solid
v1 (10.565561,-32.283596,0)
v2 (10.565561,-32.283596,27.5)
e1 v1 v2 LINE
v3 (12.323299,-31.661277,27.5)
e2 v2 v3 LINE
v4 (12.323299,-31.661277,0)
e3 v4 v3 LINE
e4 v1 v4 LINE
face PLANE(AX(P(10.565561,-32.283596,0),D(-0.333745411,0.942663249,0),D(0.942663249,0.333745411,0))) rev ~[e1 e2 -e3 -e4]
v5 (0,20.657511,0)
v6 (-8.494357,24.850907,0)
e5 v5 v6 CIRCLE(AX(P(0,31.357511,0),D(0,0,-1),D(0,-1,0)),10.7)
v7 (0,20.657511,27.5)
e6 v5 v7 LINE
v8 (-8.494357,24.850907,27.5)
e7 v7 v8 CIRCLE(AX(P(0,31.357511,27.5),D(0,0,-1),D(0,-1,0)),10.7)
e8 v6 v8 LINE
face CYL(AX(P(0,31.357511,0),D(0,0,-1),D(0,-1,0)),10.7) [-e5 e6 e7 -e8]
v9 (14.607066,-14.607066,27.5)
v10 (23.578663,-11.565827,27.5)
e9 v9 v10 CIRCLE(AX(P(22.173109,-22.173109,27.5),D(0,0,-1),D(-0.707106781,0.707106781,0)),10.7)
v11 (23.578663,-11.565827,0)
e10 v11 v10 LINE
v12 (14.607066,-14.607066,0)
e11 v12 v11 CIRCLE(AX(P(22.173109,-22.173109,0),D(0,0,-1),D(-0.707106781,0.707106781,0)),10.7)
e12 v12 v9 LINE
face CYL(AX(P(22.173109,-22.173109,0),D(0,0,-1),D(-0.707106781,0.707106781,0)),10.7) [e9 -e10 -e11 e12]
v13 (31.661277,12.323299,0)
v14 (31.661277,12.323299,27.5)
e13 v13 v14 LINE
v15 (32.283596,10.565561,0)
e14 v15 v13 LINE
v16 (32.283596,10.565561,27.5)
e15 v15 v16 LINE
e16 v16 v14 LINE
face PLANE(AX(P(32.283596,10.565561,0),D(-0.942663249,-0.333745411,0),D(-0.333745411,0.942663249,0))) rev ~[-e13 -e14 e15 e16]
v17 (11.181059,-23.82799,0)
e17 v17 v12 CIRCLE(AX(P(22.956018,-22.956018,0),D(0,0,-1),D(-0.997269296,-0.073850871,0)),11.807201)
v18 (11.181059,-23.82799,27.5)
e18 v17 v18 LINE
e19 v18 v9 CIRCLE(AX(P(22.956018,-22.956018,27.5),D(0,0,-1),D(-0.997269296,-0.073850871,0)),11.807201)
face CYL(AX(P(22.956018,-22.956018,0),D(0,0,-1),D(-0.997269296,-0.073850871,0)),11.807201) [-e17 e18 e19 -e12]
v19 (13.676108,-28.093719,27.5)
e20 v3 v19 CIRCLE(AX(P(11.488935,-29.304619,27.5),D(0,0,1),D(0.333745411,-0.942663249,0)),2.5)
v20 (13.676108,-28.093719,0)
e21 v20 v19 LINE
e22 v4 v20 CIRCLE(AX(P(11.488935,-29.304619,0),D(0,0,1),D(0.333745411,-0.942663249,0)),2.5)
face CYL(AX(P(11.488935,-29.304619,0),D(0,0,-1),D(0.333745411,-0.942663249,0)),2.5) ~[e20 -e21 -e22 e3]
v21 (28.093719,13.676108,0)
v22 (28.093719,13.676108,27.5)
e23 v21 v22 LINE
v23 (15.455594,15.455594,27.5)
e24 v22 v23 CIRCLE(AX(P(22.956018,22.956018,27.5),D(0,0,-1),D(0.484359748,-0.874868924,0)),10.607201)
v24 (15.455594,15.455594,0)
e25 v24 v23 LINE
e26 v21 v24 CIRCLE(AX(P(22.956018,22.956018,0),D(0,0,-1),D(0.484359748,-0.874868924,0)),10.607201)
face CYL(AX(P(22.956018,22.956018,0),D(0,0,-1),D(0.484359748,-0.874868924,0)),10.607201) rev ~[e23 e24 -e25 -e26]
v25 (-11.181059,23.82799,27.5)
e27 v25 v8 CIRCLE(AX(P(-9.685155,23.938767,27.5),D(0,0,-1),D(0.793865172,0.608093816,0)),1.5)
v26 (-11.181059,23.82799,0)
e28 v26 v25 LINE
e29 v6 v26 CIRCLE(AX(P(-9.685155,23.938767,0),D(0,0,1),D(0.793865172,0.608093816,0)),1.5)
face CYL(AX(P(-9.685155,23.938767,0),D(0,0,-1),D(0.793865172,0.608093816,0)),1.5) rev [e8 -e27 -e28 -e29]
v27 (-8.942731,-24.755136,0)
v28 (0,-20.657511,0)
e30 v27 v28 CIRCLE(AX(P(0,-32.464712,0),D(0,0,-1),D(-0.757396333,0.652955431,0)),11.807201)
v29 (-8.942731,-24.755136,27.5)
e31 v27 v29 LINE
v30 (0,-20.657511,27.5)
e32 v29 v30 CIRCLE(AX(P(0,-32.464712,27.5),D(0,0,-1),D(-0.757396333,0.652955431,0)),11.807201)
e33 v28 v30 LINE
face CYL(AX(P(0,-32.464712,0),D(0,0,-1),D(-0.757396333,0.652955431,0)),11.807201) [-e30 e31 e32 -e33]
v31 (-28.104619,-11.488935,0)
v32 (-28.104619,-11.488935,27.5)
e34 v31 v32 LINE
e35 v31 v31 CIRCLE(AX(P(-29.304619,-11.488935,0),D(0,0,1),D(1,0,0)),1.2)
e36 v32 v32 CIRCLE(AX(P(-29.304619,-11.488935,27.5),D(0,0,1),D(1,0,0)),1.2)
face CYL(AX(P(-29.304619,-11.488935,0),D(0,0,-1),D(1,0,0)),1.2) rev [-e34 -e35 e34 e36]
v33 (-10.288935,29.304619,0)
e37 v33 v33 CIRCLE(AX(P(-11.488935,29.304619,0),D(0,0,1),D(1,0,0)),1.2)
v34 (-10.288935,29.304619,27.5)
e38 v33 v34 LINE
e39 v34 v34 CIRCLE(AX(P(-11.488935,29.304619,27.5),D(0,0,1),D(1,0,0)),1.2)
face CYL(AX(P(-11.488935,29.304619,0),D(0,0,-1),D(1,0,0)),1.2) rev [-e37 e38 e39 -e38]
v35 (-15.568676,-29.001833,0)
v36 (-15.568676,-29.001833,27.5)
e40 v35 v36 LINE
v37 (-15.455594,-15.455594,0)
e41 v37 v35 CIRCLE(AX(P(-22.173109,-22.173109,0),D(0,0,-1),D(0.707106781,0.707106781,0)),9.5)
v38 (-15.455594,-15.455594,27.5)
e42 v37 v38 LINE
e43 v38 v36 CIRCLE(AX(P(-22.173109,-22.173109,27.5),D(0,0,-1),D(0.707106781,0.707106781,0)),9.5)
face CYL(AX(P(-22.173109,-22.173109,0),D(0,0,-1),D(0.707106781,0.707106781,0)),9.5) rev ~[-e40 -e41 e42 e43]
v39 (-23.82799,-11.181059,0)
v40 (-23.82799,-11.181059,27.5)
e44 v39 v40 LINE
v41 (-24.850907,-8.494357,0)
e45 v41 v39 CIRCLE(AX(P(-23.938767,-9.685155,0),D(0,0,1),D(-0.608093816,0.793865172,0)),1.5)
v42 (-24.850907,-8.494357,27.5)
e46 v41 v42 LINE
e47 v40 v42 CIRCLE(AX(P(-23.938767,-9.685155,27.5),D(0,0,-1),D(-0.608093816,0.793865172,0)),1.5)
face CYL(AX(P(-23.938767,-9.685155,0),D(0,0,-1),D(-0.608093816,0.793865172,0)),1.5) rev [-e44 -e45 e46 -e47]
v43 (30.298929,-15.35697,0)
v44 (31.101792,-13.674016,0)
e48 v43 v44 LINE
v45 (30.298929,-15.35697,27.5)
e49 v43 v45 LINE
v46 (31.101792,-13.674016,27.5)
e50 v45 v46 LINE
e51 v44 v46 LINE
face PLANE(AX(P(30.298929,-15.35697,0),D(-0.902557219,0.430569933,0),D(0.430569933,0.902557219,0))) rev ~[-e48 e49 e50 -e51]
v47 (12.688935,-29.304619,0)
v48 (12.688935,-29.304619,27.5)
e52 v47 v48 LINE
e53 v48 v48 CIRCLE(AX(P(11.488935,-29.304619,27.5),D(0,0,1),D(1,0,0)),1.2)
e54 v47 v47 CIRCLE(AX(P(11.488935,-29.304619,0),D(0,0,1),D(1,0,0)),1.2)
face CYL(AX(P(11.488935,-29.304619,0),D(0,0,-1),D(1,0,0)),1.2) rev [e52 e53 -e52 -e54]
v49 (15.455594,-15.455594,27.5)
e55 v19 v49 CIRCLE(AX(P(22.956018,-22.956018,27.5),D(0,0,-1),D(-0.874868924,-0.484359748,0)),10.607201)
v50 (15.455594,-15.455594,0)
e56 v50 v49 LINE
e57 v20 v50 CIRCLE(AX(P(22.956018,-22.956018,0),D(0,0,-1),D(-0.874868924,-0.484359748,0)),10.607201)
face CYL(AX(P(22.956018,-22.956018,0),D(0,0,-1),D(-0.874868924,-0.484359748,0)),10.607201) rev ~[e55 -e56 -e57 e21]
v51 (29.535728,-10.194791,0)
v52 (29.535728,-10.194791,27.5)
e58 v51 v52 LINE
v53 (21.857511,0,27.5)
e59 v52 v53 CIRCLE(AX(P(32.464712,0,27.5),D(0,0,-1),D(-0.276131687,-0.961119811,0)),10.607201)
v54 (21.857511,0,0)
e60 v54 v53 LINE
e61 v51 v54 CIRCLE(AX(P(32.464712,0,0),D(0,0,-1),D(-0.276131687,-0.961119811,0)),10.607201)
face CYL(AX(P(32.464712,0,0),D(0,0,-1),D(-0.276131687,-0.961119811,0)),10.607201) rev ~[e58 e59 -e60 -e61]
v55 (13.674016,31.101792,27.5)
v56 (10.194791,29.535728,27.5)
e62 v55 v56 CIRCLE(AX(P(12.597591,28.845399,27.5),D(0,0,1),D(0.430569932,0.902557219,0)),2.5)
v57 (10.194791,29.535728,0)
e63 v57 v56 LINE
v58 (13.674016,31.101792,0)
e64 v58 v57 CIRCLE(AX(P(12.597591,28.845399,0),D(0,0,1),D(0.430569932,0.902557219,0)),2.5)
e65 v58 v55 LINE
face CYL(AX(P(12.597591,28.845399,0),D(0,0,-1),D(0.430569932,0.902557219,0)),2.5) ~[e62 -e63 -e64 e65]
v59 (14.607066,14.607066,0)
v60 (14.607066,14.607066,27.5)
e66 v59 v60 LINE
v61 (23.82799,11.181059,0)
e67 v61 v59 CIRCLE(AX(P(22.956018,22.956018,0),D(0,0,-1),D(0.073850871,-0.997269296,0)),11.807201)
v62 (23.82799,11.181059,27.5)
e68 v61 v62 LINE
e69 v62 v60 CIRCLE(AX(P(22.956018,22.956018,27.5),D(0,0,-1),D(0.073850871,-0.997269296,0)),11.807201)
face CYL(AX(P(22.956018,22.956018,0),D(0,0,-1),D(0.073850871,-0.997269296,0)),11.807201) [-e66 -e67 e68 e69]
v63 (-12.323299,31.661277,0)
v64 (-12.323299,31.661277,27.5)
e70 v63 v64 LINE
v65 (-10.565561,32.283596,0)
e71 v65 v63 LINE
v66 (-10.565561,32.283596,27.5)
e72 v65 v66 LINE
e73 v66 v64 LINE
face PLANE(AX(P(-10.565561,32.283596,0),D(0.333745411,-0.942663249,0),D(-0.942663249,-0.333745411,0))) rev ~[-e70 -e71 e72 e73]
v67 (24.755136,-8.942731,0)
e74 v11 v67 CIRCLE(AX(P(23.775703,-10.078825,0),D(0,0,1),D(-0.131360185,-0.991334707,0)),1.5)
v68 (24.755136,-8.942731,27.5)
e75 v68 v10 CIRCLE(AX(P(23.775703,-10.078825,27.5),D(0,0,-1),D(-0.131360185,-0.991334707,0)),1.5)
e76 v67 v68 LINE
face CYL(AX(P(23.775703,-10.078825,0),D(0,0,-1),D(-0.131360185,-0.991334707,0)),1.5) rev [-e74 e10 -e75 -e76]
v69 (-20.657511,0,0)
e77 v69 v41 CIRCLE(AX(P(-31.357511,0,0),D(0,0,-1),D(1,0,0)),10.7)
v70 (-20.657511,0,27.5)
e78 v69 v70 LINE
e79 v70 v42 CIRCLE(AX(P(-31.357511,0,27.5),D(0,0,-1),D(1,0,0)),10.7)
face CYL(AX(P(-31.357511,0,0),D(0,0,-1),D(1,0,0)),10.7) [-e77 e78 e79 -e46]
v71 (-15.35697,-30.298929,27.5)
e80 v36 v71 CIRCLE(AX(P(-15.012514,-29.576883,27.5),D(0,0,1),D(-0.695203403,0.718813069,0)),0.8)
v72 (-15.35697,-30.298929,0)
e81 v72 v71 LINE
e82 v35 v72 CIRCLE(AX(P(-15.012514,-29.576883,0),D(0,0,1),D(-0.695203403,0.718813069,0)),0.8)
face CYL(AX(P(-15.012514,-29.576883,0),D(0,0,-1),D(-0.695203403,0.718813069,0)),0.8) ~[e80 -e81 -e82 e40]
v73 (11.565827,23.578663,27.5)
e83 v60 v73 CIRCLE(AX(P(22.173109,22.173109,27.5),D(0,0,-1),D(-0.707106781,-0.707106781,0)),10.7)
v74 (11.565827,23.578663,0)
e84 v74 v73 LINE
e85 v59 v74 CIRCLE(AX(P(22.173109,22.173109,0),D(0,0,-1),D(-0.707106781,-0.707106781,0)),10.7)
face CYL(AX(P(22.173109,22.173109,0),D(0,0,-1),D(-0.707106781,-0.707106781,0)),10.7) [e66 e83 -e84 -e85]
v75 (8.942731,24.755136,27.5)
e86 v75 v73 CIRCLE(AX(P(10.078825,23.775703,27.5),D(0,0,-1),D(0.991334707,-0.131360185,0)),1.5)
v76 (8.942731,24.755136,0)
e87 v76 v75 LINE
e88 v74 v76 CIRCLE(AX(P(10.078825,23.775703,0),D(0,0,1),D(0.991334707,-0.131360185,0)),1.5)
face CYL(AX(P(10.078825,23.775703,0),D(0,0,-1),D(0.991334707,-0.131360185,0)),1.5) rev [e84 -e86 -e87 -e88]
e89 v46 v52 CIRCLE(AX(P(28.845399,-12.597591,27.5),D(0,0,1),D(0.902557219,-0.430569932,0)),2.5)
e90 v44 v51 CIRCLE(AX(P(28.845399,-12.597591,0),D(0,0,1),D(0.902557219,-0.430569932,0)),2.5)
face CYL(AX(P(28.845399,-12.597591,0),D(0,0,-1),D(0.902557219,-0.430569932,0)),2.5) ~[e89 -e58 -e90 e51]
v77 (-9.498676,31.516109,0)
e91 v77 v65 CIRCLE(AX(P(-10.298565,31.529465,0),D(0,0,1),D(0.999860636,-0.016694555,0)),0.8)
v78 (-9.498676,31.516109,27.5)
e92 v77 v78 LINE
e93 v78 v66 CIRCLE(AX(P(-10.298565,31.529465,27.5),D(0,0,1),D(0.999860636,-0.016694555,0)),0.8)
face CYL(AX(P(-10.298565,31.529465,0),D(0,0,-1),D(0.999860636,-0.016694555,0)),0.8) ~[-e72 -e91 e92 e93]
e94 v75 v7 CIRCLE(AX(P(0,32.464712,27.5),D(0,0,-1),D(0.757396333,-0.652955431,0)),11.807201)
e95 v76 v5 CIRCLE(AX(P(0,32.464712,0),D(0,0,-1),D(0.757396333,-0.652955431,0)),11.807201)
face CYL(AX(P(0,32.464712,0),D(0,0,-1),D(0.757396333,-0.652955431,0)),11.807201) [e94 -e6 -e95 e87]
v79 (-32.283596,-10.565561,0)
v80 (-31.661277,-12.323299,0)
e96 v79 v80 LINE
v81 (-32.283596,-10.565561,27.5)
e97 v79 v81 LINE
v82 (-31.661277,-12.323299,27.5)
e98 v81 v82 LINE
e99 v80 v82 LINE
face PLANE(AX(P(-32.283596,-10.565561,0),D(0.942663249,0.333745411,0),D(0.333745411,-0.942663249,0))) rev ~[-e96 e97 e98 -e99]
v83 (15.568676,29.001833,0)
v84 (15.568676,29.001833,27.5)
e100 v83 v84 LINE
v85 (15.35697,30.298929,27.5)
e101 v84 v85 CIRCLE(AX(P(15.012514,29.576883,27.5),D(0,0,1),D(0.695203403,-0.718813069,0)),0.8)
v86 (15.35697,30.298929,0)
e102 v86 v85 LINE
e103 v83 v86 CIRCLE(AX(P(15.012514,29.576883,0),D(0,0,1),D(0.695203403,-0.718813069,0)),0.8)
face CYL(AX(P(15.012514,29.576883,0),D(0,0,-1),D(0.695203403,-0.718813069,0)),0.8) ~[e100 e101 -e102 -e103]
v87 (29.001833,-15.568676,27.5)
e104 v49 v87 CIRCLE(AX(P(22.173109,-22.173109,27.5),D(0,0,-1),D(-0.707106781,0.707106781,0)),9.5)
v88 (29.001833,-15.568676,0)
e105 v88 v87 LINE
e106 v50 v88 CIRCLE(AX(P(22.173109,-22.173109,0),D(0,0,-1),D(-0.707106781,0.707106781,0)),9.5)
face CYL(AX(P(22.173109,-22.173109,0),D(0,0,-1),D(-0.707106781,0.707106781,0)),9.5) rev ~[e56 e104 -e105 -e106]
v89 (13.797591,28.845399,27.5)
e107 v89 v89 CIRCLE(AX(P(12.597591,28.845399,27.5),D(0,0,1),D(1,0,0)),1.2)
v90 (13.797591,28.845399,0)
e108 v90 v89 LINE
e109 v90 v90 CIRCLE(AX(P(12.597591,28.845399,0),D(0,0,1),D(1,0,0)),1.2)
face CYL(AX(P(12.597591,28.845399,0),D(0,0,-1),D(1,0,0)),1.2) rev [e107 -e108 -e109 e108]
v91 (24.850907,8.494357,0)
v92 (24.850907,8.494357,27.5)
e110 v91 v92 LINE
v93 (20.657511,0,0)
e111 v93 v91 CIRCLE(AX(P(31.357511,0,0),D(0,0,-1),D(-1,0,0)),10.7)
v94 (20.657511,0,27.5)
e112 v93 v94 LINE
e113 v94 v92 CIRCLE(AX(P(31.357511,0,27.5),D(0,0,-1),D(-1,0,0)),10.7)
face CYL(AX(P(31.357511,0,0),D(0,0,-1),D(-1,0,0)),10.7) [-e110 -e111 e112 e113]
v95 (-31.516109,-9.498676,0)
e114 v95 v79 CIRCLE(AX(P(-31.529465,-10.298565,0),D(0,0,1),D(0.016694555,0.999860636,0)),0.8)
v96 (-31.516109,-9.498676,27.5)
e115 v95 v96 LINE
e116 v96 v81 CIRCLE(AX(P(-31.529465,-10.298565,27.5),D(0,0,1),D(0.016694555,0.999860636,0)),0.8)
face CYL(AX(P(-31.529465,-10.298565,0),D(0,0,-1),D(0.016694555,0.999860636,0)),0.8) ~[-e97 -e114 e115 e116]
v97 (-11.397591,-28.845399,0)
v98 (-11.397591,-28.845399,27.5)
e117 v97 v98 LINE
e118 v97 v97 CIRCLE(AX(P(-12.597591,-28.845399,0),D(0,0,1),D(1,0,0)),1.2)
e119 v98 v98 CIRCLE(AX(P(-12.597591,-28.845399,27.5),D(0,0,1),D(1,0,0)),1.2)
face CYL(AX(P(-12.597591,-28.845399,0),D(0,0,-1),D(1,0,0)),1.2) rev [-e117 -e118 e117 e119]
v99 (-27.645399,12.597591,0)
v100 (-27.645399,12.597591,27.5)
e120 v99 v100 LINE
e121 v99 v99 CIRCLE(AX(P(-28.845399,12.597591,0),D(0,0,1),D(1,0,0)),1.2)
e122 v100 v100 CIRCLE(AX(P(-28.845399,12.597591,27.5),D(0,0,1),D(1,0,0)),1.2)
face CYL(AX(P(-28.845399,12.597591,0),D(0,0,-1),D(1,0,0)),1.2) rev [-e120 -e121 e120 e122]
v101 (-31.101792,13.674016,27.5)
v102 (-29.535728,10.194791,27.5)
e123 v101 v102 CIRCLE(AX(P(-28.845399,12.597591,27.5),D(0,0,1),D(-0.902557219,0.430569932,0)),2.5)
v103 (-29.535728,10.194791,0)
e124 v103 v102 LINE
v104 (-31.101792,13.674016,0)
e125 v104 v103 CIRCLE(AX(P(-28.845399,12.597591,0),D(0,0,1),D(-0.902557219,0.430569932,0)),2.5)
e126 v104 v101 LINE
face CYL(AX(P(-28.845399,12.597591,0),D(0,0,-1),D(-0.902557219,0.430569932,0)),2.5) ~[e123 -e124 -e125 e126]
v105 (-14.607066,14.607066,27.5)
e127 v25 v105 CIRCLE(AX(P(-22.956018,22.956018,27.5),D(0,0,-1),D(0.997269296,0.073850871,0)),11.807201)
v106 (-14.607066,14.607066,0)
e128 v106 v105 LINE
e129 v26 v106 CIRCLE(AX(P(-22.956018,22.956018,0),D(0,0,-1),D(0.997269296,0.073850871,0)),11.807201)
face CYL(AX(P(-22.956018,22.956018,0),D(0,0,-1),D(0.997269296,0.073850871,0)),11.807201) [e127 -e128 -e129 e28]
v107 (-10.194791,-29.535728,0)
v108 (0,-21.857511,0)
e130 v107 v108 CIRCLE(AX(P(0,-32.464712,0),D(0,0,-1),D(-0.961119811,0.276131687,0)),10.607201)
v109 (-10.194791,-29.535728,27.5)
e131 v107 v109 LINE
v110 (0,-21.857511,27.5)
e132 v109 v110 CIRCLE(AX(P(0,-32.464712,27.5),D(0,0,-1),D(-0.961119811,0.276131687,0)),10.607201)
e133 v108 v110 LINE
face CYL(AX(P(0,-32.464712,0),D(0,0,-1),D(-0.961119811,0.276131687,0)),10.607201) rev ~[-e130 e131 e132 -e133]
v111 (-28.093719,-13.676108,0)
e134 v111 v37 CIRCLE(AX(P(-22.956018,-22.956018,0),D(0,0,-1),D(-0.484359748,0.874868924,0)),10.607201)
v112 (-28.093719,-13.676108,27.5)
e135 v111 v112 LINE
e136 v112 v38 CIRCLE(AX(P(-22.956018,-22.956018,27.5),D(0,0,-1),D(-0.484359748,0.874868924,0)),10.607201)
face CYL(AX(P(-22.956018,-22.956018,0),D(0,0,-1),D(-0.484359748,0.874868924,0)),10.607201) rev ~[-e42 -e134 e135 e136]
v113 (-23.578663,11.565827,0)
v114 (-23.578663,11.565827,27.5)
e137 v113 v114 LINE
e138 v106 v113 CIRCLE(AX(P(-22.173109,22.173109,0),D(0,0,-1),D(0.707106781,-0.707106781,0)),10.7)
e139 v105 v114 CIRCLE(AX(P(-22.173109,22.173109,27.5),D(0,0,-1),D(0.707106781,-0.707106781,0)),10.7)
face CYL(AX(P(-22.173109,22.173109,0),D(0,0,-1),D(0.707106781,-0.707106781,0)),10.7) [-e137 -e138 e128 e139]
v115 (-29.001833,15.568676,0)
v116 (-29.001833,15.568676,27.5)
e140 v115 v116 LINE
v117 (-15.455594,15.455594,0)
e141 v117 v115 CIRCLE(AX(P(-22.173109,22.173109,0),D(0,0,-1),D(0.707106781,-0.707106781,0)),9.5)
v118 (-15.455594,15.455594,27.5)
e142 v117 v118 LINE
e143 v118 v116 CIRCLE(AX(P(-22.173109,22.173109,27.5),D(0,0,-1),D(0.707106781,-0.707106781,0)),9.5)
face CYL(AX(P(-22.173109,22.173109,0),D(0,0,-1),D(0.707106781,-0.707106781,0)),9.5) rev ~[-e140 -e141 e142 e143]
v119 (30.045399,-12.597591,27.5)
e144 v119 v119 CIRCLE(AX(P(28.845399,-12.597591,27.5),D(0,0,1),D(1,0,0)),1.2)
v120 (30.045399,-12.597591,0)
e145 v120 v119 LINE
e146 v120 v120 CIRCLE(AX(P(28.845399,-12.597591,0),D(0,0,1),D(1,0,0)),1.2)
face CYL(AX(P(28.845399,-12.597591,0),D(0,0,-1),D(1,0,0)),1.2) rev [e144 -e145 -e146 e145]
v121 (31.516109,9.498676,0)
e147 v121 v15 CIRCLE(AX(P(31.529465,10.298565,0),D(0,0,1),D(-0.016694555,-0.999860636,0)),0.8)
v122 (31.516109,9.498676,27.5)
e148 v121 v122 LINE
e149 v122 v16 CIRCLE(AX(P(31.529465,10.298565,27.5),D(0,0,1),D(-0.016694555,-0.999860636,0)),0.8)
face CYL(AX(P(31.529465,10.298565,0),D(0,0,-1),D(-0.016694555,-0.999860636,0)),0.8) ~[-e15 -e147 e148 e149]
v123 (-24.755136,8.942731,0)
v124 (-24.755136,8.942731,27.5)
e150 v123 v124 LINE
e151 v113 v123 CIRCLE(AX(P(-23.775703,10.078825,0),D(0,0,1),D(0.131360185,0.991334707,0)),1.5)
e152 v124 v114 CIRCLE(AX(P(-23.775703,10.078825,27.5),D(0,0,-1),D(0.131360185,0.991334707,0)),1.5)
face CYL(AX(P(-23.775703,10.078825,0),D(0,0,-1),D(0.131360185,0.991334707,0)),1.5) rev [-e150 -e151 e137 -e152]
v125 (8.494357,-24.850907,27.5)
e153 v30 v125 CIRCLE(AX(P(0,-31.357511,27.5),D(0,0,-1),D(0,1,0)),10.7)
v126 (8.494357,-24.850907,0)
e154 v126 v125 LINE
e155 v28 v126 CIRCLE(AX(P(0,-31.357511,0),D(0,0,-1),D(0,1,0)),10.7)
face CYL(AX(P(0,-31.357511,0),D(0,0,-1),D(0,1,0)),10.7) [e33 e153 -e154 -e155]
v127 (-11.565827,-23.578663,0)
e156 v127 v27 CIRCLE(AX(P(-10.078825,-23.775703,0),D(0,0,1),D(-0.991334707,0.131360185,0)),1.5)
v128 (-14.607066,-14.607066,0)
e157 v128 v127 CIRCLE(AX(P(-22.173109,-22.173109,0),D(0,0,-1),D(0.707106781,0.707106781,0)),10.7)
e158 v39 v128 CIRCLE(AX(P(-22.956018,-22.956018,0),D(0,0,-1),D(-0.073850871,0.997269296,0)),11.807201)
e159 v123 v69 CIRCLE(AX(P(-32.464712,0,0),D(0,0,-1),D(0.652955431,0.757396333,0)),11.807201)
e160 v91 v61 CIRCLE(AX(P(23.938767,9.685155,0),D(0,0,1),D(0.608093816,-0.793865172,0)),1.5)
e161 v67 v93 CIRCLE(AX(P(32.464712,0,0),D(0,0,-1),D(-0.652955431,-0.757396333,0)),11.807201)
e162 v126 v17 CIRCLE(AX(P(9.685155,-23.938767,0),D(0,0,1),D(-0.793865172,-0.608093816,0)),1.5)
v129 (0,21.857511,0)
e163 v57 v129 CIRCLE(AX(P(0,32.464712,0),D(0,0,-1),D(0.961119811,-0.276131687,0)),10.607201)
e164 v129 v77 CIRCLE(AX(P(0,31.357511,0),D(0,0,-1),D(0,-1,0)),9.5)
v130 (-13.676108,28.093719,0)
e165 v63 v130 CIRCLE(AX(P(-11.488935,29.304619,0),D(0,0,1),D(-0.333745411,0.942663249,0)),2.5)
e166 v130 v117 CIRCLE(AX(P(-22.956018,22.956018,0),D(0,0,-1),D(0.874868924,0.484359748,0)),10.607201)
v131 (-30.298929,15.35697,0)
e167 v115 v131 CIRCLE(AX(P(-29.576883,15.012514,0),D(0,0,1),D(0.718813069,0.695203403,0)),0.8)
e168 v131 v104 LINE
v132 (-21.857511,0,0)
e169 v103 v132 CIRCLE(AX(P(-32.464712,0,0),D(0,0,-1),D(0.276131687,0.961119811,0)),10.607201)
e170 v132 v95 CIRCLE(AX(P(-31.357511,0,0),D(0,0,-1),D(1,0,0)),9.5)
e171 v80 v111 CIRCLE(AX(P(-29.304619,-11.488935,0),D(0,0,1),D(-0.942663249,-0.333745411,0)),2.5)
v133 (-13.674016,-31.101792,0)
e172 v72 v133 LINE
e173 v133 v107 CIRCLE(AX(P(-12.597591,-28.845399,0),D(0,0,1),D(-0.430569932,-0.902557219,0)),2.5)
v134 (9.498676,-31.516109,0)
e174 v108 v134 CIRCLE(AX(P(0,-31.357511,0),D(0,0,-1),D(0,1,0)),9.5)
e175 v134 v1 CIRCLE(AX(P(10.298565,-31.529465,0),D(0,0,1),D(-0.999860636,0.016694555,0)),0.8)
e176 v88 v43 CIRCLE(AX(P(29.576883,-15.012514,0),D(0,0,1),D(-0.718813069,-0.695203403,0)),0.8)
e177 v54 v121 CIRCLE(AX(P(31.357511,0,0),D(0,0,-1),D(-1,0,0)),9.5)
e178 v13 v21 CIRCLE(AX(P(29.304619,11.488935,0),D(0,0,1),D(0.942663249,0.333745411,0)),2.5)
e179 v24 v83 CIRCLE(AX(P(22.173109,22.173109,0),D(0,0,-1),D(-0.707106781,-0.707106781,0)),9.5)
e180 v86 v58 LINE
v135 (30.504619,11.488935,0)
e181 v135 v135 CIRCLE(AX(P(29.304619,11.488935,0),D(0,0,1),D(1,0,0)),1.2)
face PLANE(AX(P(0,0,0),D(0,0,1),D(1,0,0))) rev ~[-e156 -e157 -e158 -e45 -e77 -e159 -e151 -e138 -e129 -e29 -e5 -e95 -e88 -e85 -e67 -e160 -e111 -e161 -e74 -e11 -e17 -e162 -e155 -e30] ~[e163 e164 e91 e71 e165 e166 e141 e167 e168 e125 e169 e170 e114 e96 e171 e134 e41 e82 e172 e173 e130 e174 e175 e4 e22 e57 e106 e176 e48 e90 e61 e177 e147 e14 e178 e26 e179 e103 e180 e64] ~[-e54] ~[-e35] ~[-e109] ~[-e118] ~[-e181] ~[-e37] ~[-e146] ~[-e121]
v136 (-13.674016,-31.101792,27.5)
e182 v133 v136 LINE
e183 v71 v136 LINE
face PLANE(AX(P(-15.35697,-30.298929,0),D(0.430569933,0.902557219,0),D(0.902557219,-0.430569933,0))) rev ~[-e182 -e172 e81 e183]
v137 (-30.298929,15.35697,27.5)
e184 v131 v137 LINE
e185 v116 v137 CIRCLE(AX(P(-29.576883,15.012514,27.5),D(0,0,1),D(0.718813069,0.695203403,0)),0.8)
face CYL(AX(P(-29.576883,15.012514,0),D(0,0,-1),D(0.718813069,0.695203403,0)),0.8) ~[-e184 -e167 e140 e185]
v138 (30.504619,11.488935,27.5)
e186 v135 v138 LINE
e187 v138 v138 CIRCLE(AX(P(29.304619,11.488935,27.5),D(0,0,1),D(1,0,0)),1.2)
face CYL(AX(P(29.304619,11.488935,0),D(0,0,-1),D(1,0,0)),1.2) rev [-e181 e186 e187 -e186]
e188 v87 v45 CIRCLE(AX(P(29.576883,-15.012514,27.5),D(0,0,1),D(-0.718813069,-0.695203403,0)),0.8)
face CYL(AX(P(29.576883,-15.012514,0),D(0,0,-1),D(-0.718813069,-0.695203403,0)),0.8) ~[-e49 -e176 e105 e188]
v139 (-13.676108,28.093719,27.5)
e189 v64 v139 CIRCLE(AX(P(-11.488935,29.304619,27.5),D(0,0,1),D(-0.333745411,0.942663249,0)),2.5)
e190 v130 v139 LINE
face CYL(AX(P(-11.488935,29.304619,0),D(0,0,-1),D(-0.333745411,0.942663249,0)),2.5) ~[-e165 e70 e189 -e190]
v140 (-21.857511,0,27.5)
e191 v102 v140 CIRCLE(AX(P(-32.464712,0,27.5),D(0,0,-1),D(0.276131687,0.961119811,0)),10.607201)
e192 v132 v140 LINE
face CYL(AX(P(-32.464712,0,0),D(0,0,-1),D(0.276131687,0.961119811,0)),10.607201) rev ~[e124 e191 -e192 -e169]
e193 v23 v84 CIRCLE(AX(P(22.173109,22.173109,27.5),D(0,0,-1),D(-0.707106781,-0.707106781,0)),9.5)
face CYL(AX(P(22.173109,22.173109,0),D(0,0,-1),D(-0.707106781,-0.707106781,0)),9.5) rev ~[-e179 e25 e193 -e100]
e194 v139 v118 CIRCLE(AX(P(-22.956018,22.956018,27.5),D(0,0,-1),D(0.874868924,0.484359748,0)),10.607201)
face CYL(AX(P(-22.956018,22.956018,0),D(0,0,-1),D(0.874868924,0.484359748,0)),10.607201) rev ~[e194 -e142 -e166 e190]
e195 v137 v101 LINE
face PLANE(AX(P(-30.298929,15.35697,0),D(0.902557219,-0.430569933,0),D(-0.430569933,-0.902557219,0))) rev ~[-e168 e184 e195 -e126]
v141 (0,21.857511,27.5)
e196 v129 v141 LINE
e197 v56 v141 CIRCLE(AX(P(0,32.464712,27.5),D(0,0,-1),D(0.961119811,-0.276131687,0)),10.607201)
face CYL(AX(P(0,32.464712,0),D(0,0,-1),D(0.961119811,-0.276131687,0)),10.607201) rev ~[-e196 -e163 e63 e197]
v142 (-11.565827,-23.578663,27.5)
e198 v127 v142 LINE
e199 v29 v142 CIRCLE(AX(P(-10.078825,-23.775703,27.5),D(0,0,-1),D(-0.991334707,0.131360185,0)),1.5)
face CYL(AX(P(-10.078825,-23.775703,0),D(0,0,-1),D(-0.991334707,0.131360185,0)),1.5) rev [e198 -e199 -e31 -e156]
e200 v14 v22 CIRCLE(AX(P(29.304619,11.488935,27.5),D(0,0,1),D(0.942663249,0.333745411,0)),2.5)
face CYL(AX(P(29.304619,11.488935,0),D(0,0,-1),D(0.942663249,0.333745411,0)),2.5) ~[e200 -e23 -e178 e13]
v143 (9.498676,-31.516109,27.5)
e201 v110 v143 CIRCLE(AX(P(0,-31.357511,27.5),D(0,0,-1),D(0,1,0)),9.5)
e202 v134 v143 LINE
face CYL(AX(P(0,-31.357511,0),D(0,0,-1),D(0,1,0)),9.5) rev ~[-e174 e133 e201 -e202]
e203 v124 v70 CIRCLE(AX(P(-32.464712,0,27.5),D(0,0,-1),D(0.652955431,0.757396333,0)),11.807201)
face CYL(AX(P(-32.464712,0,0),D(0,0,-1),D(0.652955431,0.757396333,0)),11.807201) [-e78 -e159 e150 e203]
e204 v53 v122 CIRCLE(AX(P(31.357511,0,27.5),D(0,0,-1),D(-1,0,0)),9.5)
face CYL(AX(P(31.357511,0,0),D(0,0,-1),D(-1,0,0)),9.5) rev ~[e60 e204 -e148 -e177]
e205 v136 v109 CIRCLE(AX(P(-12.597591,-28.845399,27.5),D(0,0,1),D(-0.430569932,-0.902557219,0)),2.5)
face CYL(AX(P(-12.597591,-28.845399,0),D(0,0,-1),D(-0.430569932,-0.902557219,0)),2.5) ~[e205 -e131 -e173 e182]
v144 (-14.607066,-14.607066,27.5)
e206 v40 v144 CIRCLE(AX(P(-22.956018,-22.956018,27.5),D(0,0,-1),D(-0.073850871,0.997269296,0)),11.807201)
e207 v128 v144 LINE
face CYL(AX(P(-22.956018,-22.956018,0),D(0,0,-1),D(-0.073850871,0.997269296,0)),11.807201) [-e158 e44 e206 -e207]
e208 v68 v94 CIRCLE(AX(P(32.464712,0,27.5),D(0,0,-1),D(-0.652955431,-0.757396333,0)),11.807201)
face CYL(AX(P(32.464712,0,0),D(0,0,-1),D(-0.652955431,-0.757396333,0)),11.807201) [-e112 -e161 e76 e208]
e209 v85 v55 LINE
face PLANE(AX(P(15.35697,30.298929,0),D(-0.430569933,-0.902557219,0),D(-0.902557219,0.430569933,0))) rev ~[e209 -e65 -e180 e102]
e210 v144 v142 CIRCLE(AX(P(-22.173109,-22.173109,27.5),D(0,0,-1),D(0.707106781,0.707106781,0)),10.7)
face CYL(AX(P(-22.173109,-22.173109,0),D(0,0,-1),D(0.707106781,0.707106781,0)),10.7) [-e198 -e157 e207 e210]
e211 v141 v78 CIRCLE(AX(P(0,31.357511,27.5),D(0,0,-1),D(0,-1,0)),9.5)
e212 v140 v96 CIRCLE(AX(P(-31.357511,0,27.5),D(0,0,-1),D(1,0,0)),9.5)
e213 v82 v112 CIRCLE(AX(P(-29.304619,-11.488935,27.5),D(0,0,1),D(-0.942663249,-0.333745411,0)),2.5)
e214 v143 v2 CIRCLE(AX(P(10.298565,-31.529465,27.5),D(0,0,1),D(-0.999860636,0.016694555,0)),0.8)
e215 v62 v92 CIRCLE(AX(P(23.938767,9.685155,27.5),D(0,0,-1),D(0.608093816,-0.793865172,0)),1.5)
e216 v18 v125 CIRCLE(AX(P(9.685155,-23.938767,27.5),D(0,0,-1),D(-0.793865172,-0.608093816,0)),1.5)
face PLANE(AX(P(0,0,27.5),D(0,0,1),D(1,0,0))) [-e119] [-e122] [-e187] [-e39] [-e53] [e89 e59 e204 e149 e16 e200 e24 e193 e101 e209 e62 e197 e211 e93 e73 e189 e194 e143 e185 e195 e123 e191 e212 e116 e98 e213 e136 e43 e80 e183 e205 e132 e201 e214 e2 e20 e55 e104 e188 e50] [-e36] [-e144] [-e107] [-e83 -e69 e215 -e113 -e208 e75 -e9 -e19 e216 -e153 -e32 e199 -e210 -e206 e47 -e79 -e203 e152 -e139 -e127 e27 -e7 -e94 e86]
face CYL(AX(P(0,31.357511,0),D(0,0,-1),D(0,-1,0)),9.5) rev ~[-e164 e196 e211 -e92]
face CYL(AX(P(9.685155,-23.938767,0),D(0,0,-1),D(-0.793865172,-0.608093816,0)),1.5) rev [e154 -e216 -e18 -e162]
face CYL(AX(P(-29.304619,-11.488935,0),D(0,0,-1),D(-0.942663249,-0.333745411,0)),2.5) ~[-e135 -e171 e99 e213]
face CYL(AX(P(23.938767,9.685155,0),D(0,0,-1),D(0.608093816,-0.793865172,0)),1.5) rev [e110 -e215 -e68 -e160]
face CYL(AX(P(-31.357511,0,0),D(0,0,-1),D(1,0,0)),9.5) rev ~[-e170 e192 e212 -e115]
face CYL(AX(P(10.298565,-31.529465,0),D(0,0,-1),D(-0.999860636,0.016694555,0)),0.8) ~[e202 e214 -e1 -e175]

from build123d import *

# Parameters (mm, degrees)
SKETCH_1_R          = 1.2
EXTRUDE_1_DEPTH     = 27.5
CUT_EXTRUDE_1_DEPTH = 28.5


with BuildPart() as part:
    # 草图1 → 凸台-拉伸1 (new body)
    with BuildSketch(Plane.XY):
        with BuildLine():
            Line((15.356969673, 30.298929166), (13.674015522, 31.101791788))
            ThreePointArc((13.674015522, 31.101791788), (11.571454033, 31.125101256), (10.194791162, 29.535727958))
            ThreePointArc((10.194791162, 29.535727958), (6.381394442, 23.991783581), (0, 21.857511157))
            ThreePointArc((0, 21.857511157), (-6.773355282, 24.696305694), (-9.498676044, 31.516109427))
            ThreePointArc((-9.498676044, 31.516109427), (-9.831389744, 32.178886119), (-10.565560882, 32.28359567))
            Line((-10.565560882, 32.28359567), (-12.323298779, 31.661276982))
            ThreePointArc((-12.323298779, 31.661276982), (-13.826516548, 30.191023779), (-13.676107562, 28.09371949))
            ThreePointArc((-13.676107562, 28.09371949), (-12.45242558, 21.477080146), (-15.455594359, 15.455594359))
            ThreePointArc((-15.455594359, 15.455594359), (-22.252410678, 12.673439775), (-29.001832935, 15.568676449))
            ThreePointArc((-29.001832935, 15.568676449), (-29.705750942, 15.802066229), (-30.298929166, 15.356969673))
            Line((-30.298929166, 15.356969673), (-31.101791788, 13.674015522))
            ThreePointArc((-31.101791788, 13.674015522), (-31.125101256, 11.571454033), (-29.535727958, 10.194791162))
            ThreePointArc((-29.535727958, 10.194791162), (-23.991783581, 6.381394442), (-21.857511157, 0))
            ThreePointArc((-21.857511157, 0), (-24.696305694, -6.773355282), (-31.516109427, -9.498676044))
            ThreePointArc((-31.516109427, -9.498676044), (-32.178886119, -9.831389744), (-32.28359567, -10.565560882))
            Line((-32.28359567, -10.565560882), (-31.661276982, -12.323298779))
            ThreePointArc((-31.661276982, -12.323298779), (-30.191023779, -13.826516548), (-28.09371949, -13.676107562))
            ThreePointArc((-28.09371949, -13.676107562), (-21.477080146, -12.45242558), (-15.455594359, -15.455594359))
            ThreePointArc((-15.455594359, -15.455594359), (-12.673439775, -22.252410678), (-15.568676449, -29.001832935))
            ThreePointArc((-15.568676449, -29.001832935), (-15.802066229, -29.705750942), (-15.356969673, -30.298929166))
            Line((-15.356969673, -30.298929166), (-13.674015522, -31.101791788))
            ThreePointArc((-13.674015522, -31.101791788), (-11.571454033, -31.125101256), (-10.194791162, -29.535727958))
            ThreePointArc((-10.194791162, -29.535727958), (-6.381394442, -23.991783581), (0, -21.857511157))
            ThreePointArc((0, -21.857511157), (6.773355282, -24.696305694), (9.498676044, -31.516109427))
            ThreePointArc((9.498676044, -31.516109427), (9.831389744, -32.178886119), (10.565560882, -32.28359567))
            Line((10.565560882, -32.28359567), (12.323298779, -31.661276982))
            ThreePointArc((12.323298779, -31.661276982), (13.826516548, -30.191023779), (13.676107562, -28.09371949))
            ThreePointArc((13.676107562, -28.09371949), (12.45242558, -21.477080146), (15.455594359, -15.455594359))
            ThreePointArc((15.455594359, -15.455594359), (22.252410678, -12.673439775), (29.001832935, -15.568676449))
            ThreePointArc((29.001832935, -15.568676449), (29.705750942, -15.802066229), (30.298929166, -15.356969673))
            Line((30.298929166, -15.356969673), (31.101791788, -13.674015522))
            ThreePointArc((31.101791788, -13.674015522), (31.125101256, -11.571454033), (29.535727958, -10.194791162))
            ThreePointArc((29.535727958, -10.194791162), (23.991783581, -6.381394442), (21.857511157, 0))
            ThreePointArc((21.857511157, 0), (24.696305694, 6.773355282), (31.516109427, 9.498676044))
            ThreePointArc((31.516109427, 9.498676044), (32.178886119, 9.831389744), (32.28359567, 10.565560882))
            Line((32.28359567, 10.565560882), (31.661276982, 12.323298779))
            ThreePointArc((31.661276982, 12.323298779), (30.191023779, 13.826516548), (28.09371949, 13.676107562))
            ThreePointArc((28.09371949, 13.676107562), (21.477080146, 12.45242558), (15.455594359, 15.455594359))
            ThreePointArc((15.455594359, 15.455594359), (12.673439775, 22.252410678), (15.568676449, 29.001832935))
            ThreePointArc((15.568676449, 29.001832935), (15.802066229, 29.705750942), (15.356969673, 30.298929166))
        make_face()
        with Locations((12.597590691, 28.845398741)):
            Circle(SKETCH_1_R, mode=Mode.SUBTRACT)
        with Locations((29.304618859, 11.488935252)):
            Circle(SKETCH_1_R, mode=Mode.SUBTRACT)
        with Locations((28.845398741, -12.597590691)):
            Circle(SKETCH_1_R, mode=Mode.SUBTRACT)
        with Locations((11.488935252, -29.304618859)):
            Circle(SKETCH_1_R, mode=Mode.SUBTRACT)
        with Locations((-12.597590691, -28.845398741)):
            Circle(SKETCH_1_R, mode=Mode.SUBTRACT)
        with Locations((-29.304618859, -11.488935252)):
            Circle(SKETCH_1_R, mode=Mode.SUBTRACT)
        with Locations((-28.845398741, 12.597590691)):
            Circle(SKETCH_1_R, mode=Mode.SUBTRACT)
        with Locations((-11.488935252, 29.304618859)):
            Circle(SKETCH_1_R, mode=Mode.SUBTRACT)
    extrude(amount=EXTRUDE_1_DEPTH)

    # 草图2 → 切除-拉伸1 (cut, through all)
    with BuildSketch(Plane(origin=(0, 0, 0), x_dir=(-1, 0, 0), z_dir=(0, 0, -1))):
        with BuildLine():
            ThreePointArc((20.657511157, 0), (21.762964244, -4.736525047), (24.85090733, -8.494357341))
            ThreePointArc((24.85090733, -8.494357341), (25.340600313, -10.218879989), (23.827990301, -11.181059043))
            ThreePointArc((23.827990301, -11.181059043), (18.843757471, -11.888077559), (14.607066222, -14.607066222))
            ThreePointArc((14.607066222, -14.607066222), (12.039510615, -18.737968576), (11.565827414, -23.578662769))
            ThreePointArc((11.565827414, -23.578662769), (10.692670984, -25.144349657), (8.942730853, -24.755136194))
            ThreePointArc((8.942730853, -24.755136194), (4.918408433, -21.730688948), (0, -20.657511157))
            ThreePointArc((0, -20.657511157), (-4.736525047, -21.762964244), (-8.494357341, -24.85090733))
            ThreePointArc((-8.494357341, -24.85090733), (-10.218879989, -25.340600313), (-11.181059043, -23.827990301))
            ThreePointArc((-11.181059043, -23.827990301), (-11.888077559, -18.843757471), (-14.607066222, -14.607066222))
            ThreePointArc((-14.607066222, -14.607066222), (-18.737968576, -12.039510615), (-23.578662769, -11.565827414))
            ThreePointArc((-23.578662769, -11.565827414), (-25.144349657, -10.692670984), (-24.755136194, -8.942730853))
            ThreePointArc((-24.755136194, -8.942730853), (-21.730688948, -4.918408433), (-20.657511157, 0))
            ThreePointArc((-20.657511157, 0), (-21.762964244, 4.736525047), (-24.85090733, 8.494357341))
            ThreePointArc((-24.85090733, 8.494357341), (-25.340600313, 10.218879989), (-23.827990301, 11.181059043))
            ThreePointArc((-23.827990301, 11.181059043), (-18.843757471, 11.888077559), (-14.607066222, 14.607066222))
            ThreePointArc((-14.607066222, 14.607066222), (-12.039510615, 18.737968576), (-11.565827414, 23.578662769))
            ThreePointArc((-11.565827414, 23.578662769), (-10.692670984, 25.144349657), (-8.942730853, 24.755136194))
            ThreePointArc((-8.942730853, 24.755136194), (-4.918408433, 21.730688948), (0, 20.657511157))
            ThreePointArc((0, 20.657511157), (4.736525047, 21.762964244), (8.494357341, 24.85090733))
            ThreePointArc((8.494357341, 24.85090733), (10.218879989, 25.340600313), (11.181059043, 23.827990301))
            ThreePointArc((11.181059043, 23.827990301), (11.888077559, 18.843757471), (14.607066222, 14.607066222))
            ThreePointArc((14.607066222, 14.607066222), (18.737968576, 12.039510615), (23.578662769, 11.565827414))
            ThreePointArc((23.578662769, 11.565827414), (25.144349657, 10.692670984), (24.755136194, 8.942730853))
            ThreePointArc((24.755136194, 8.942730853), (21.730688948, 4.918408433), (20.657511157, 0))
        make_face()
    extrude(amount=-CUT_EXTRUDE_1_DEPTH, mode=Mode.SUBTRACT)


solid = part.part
